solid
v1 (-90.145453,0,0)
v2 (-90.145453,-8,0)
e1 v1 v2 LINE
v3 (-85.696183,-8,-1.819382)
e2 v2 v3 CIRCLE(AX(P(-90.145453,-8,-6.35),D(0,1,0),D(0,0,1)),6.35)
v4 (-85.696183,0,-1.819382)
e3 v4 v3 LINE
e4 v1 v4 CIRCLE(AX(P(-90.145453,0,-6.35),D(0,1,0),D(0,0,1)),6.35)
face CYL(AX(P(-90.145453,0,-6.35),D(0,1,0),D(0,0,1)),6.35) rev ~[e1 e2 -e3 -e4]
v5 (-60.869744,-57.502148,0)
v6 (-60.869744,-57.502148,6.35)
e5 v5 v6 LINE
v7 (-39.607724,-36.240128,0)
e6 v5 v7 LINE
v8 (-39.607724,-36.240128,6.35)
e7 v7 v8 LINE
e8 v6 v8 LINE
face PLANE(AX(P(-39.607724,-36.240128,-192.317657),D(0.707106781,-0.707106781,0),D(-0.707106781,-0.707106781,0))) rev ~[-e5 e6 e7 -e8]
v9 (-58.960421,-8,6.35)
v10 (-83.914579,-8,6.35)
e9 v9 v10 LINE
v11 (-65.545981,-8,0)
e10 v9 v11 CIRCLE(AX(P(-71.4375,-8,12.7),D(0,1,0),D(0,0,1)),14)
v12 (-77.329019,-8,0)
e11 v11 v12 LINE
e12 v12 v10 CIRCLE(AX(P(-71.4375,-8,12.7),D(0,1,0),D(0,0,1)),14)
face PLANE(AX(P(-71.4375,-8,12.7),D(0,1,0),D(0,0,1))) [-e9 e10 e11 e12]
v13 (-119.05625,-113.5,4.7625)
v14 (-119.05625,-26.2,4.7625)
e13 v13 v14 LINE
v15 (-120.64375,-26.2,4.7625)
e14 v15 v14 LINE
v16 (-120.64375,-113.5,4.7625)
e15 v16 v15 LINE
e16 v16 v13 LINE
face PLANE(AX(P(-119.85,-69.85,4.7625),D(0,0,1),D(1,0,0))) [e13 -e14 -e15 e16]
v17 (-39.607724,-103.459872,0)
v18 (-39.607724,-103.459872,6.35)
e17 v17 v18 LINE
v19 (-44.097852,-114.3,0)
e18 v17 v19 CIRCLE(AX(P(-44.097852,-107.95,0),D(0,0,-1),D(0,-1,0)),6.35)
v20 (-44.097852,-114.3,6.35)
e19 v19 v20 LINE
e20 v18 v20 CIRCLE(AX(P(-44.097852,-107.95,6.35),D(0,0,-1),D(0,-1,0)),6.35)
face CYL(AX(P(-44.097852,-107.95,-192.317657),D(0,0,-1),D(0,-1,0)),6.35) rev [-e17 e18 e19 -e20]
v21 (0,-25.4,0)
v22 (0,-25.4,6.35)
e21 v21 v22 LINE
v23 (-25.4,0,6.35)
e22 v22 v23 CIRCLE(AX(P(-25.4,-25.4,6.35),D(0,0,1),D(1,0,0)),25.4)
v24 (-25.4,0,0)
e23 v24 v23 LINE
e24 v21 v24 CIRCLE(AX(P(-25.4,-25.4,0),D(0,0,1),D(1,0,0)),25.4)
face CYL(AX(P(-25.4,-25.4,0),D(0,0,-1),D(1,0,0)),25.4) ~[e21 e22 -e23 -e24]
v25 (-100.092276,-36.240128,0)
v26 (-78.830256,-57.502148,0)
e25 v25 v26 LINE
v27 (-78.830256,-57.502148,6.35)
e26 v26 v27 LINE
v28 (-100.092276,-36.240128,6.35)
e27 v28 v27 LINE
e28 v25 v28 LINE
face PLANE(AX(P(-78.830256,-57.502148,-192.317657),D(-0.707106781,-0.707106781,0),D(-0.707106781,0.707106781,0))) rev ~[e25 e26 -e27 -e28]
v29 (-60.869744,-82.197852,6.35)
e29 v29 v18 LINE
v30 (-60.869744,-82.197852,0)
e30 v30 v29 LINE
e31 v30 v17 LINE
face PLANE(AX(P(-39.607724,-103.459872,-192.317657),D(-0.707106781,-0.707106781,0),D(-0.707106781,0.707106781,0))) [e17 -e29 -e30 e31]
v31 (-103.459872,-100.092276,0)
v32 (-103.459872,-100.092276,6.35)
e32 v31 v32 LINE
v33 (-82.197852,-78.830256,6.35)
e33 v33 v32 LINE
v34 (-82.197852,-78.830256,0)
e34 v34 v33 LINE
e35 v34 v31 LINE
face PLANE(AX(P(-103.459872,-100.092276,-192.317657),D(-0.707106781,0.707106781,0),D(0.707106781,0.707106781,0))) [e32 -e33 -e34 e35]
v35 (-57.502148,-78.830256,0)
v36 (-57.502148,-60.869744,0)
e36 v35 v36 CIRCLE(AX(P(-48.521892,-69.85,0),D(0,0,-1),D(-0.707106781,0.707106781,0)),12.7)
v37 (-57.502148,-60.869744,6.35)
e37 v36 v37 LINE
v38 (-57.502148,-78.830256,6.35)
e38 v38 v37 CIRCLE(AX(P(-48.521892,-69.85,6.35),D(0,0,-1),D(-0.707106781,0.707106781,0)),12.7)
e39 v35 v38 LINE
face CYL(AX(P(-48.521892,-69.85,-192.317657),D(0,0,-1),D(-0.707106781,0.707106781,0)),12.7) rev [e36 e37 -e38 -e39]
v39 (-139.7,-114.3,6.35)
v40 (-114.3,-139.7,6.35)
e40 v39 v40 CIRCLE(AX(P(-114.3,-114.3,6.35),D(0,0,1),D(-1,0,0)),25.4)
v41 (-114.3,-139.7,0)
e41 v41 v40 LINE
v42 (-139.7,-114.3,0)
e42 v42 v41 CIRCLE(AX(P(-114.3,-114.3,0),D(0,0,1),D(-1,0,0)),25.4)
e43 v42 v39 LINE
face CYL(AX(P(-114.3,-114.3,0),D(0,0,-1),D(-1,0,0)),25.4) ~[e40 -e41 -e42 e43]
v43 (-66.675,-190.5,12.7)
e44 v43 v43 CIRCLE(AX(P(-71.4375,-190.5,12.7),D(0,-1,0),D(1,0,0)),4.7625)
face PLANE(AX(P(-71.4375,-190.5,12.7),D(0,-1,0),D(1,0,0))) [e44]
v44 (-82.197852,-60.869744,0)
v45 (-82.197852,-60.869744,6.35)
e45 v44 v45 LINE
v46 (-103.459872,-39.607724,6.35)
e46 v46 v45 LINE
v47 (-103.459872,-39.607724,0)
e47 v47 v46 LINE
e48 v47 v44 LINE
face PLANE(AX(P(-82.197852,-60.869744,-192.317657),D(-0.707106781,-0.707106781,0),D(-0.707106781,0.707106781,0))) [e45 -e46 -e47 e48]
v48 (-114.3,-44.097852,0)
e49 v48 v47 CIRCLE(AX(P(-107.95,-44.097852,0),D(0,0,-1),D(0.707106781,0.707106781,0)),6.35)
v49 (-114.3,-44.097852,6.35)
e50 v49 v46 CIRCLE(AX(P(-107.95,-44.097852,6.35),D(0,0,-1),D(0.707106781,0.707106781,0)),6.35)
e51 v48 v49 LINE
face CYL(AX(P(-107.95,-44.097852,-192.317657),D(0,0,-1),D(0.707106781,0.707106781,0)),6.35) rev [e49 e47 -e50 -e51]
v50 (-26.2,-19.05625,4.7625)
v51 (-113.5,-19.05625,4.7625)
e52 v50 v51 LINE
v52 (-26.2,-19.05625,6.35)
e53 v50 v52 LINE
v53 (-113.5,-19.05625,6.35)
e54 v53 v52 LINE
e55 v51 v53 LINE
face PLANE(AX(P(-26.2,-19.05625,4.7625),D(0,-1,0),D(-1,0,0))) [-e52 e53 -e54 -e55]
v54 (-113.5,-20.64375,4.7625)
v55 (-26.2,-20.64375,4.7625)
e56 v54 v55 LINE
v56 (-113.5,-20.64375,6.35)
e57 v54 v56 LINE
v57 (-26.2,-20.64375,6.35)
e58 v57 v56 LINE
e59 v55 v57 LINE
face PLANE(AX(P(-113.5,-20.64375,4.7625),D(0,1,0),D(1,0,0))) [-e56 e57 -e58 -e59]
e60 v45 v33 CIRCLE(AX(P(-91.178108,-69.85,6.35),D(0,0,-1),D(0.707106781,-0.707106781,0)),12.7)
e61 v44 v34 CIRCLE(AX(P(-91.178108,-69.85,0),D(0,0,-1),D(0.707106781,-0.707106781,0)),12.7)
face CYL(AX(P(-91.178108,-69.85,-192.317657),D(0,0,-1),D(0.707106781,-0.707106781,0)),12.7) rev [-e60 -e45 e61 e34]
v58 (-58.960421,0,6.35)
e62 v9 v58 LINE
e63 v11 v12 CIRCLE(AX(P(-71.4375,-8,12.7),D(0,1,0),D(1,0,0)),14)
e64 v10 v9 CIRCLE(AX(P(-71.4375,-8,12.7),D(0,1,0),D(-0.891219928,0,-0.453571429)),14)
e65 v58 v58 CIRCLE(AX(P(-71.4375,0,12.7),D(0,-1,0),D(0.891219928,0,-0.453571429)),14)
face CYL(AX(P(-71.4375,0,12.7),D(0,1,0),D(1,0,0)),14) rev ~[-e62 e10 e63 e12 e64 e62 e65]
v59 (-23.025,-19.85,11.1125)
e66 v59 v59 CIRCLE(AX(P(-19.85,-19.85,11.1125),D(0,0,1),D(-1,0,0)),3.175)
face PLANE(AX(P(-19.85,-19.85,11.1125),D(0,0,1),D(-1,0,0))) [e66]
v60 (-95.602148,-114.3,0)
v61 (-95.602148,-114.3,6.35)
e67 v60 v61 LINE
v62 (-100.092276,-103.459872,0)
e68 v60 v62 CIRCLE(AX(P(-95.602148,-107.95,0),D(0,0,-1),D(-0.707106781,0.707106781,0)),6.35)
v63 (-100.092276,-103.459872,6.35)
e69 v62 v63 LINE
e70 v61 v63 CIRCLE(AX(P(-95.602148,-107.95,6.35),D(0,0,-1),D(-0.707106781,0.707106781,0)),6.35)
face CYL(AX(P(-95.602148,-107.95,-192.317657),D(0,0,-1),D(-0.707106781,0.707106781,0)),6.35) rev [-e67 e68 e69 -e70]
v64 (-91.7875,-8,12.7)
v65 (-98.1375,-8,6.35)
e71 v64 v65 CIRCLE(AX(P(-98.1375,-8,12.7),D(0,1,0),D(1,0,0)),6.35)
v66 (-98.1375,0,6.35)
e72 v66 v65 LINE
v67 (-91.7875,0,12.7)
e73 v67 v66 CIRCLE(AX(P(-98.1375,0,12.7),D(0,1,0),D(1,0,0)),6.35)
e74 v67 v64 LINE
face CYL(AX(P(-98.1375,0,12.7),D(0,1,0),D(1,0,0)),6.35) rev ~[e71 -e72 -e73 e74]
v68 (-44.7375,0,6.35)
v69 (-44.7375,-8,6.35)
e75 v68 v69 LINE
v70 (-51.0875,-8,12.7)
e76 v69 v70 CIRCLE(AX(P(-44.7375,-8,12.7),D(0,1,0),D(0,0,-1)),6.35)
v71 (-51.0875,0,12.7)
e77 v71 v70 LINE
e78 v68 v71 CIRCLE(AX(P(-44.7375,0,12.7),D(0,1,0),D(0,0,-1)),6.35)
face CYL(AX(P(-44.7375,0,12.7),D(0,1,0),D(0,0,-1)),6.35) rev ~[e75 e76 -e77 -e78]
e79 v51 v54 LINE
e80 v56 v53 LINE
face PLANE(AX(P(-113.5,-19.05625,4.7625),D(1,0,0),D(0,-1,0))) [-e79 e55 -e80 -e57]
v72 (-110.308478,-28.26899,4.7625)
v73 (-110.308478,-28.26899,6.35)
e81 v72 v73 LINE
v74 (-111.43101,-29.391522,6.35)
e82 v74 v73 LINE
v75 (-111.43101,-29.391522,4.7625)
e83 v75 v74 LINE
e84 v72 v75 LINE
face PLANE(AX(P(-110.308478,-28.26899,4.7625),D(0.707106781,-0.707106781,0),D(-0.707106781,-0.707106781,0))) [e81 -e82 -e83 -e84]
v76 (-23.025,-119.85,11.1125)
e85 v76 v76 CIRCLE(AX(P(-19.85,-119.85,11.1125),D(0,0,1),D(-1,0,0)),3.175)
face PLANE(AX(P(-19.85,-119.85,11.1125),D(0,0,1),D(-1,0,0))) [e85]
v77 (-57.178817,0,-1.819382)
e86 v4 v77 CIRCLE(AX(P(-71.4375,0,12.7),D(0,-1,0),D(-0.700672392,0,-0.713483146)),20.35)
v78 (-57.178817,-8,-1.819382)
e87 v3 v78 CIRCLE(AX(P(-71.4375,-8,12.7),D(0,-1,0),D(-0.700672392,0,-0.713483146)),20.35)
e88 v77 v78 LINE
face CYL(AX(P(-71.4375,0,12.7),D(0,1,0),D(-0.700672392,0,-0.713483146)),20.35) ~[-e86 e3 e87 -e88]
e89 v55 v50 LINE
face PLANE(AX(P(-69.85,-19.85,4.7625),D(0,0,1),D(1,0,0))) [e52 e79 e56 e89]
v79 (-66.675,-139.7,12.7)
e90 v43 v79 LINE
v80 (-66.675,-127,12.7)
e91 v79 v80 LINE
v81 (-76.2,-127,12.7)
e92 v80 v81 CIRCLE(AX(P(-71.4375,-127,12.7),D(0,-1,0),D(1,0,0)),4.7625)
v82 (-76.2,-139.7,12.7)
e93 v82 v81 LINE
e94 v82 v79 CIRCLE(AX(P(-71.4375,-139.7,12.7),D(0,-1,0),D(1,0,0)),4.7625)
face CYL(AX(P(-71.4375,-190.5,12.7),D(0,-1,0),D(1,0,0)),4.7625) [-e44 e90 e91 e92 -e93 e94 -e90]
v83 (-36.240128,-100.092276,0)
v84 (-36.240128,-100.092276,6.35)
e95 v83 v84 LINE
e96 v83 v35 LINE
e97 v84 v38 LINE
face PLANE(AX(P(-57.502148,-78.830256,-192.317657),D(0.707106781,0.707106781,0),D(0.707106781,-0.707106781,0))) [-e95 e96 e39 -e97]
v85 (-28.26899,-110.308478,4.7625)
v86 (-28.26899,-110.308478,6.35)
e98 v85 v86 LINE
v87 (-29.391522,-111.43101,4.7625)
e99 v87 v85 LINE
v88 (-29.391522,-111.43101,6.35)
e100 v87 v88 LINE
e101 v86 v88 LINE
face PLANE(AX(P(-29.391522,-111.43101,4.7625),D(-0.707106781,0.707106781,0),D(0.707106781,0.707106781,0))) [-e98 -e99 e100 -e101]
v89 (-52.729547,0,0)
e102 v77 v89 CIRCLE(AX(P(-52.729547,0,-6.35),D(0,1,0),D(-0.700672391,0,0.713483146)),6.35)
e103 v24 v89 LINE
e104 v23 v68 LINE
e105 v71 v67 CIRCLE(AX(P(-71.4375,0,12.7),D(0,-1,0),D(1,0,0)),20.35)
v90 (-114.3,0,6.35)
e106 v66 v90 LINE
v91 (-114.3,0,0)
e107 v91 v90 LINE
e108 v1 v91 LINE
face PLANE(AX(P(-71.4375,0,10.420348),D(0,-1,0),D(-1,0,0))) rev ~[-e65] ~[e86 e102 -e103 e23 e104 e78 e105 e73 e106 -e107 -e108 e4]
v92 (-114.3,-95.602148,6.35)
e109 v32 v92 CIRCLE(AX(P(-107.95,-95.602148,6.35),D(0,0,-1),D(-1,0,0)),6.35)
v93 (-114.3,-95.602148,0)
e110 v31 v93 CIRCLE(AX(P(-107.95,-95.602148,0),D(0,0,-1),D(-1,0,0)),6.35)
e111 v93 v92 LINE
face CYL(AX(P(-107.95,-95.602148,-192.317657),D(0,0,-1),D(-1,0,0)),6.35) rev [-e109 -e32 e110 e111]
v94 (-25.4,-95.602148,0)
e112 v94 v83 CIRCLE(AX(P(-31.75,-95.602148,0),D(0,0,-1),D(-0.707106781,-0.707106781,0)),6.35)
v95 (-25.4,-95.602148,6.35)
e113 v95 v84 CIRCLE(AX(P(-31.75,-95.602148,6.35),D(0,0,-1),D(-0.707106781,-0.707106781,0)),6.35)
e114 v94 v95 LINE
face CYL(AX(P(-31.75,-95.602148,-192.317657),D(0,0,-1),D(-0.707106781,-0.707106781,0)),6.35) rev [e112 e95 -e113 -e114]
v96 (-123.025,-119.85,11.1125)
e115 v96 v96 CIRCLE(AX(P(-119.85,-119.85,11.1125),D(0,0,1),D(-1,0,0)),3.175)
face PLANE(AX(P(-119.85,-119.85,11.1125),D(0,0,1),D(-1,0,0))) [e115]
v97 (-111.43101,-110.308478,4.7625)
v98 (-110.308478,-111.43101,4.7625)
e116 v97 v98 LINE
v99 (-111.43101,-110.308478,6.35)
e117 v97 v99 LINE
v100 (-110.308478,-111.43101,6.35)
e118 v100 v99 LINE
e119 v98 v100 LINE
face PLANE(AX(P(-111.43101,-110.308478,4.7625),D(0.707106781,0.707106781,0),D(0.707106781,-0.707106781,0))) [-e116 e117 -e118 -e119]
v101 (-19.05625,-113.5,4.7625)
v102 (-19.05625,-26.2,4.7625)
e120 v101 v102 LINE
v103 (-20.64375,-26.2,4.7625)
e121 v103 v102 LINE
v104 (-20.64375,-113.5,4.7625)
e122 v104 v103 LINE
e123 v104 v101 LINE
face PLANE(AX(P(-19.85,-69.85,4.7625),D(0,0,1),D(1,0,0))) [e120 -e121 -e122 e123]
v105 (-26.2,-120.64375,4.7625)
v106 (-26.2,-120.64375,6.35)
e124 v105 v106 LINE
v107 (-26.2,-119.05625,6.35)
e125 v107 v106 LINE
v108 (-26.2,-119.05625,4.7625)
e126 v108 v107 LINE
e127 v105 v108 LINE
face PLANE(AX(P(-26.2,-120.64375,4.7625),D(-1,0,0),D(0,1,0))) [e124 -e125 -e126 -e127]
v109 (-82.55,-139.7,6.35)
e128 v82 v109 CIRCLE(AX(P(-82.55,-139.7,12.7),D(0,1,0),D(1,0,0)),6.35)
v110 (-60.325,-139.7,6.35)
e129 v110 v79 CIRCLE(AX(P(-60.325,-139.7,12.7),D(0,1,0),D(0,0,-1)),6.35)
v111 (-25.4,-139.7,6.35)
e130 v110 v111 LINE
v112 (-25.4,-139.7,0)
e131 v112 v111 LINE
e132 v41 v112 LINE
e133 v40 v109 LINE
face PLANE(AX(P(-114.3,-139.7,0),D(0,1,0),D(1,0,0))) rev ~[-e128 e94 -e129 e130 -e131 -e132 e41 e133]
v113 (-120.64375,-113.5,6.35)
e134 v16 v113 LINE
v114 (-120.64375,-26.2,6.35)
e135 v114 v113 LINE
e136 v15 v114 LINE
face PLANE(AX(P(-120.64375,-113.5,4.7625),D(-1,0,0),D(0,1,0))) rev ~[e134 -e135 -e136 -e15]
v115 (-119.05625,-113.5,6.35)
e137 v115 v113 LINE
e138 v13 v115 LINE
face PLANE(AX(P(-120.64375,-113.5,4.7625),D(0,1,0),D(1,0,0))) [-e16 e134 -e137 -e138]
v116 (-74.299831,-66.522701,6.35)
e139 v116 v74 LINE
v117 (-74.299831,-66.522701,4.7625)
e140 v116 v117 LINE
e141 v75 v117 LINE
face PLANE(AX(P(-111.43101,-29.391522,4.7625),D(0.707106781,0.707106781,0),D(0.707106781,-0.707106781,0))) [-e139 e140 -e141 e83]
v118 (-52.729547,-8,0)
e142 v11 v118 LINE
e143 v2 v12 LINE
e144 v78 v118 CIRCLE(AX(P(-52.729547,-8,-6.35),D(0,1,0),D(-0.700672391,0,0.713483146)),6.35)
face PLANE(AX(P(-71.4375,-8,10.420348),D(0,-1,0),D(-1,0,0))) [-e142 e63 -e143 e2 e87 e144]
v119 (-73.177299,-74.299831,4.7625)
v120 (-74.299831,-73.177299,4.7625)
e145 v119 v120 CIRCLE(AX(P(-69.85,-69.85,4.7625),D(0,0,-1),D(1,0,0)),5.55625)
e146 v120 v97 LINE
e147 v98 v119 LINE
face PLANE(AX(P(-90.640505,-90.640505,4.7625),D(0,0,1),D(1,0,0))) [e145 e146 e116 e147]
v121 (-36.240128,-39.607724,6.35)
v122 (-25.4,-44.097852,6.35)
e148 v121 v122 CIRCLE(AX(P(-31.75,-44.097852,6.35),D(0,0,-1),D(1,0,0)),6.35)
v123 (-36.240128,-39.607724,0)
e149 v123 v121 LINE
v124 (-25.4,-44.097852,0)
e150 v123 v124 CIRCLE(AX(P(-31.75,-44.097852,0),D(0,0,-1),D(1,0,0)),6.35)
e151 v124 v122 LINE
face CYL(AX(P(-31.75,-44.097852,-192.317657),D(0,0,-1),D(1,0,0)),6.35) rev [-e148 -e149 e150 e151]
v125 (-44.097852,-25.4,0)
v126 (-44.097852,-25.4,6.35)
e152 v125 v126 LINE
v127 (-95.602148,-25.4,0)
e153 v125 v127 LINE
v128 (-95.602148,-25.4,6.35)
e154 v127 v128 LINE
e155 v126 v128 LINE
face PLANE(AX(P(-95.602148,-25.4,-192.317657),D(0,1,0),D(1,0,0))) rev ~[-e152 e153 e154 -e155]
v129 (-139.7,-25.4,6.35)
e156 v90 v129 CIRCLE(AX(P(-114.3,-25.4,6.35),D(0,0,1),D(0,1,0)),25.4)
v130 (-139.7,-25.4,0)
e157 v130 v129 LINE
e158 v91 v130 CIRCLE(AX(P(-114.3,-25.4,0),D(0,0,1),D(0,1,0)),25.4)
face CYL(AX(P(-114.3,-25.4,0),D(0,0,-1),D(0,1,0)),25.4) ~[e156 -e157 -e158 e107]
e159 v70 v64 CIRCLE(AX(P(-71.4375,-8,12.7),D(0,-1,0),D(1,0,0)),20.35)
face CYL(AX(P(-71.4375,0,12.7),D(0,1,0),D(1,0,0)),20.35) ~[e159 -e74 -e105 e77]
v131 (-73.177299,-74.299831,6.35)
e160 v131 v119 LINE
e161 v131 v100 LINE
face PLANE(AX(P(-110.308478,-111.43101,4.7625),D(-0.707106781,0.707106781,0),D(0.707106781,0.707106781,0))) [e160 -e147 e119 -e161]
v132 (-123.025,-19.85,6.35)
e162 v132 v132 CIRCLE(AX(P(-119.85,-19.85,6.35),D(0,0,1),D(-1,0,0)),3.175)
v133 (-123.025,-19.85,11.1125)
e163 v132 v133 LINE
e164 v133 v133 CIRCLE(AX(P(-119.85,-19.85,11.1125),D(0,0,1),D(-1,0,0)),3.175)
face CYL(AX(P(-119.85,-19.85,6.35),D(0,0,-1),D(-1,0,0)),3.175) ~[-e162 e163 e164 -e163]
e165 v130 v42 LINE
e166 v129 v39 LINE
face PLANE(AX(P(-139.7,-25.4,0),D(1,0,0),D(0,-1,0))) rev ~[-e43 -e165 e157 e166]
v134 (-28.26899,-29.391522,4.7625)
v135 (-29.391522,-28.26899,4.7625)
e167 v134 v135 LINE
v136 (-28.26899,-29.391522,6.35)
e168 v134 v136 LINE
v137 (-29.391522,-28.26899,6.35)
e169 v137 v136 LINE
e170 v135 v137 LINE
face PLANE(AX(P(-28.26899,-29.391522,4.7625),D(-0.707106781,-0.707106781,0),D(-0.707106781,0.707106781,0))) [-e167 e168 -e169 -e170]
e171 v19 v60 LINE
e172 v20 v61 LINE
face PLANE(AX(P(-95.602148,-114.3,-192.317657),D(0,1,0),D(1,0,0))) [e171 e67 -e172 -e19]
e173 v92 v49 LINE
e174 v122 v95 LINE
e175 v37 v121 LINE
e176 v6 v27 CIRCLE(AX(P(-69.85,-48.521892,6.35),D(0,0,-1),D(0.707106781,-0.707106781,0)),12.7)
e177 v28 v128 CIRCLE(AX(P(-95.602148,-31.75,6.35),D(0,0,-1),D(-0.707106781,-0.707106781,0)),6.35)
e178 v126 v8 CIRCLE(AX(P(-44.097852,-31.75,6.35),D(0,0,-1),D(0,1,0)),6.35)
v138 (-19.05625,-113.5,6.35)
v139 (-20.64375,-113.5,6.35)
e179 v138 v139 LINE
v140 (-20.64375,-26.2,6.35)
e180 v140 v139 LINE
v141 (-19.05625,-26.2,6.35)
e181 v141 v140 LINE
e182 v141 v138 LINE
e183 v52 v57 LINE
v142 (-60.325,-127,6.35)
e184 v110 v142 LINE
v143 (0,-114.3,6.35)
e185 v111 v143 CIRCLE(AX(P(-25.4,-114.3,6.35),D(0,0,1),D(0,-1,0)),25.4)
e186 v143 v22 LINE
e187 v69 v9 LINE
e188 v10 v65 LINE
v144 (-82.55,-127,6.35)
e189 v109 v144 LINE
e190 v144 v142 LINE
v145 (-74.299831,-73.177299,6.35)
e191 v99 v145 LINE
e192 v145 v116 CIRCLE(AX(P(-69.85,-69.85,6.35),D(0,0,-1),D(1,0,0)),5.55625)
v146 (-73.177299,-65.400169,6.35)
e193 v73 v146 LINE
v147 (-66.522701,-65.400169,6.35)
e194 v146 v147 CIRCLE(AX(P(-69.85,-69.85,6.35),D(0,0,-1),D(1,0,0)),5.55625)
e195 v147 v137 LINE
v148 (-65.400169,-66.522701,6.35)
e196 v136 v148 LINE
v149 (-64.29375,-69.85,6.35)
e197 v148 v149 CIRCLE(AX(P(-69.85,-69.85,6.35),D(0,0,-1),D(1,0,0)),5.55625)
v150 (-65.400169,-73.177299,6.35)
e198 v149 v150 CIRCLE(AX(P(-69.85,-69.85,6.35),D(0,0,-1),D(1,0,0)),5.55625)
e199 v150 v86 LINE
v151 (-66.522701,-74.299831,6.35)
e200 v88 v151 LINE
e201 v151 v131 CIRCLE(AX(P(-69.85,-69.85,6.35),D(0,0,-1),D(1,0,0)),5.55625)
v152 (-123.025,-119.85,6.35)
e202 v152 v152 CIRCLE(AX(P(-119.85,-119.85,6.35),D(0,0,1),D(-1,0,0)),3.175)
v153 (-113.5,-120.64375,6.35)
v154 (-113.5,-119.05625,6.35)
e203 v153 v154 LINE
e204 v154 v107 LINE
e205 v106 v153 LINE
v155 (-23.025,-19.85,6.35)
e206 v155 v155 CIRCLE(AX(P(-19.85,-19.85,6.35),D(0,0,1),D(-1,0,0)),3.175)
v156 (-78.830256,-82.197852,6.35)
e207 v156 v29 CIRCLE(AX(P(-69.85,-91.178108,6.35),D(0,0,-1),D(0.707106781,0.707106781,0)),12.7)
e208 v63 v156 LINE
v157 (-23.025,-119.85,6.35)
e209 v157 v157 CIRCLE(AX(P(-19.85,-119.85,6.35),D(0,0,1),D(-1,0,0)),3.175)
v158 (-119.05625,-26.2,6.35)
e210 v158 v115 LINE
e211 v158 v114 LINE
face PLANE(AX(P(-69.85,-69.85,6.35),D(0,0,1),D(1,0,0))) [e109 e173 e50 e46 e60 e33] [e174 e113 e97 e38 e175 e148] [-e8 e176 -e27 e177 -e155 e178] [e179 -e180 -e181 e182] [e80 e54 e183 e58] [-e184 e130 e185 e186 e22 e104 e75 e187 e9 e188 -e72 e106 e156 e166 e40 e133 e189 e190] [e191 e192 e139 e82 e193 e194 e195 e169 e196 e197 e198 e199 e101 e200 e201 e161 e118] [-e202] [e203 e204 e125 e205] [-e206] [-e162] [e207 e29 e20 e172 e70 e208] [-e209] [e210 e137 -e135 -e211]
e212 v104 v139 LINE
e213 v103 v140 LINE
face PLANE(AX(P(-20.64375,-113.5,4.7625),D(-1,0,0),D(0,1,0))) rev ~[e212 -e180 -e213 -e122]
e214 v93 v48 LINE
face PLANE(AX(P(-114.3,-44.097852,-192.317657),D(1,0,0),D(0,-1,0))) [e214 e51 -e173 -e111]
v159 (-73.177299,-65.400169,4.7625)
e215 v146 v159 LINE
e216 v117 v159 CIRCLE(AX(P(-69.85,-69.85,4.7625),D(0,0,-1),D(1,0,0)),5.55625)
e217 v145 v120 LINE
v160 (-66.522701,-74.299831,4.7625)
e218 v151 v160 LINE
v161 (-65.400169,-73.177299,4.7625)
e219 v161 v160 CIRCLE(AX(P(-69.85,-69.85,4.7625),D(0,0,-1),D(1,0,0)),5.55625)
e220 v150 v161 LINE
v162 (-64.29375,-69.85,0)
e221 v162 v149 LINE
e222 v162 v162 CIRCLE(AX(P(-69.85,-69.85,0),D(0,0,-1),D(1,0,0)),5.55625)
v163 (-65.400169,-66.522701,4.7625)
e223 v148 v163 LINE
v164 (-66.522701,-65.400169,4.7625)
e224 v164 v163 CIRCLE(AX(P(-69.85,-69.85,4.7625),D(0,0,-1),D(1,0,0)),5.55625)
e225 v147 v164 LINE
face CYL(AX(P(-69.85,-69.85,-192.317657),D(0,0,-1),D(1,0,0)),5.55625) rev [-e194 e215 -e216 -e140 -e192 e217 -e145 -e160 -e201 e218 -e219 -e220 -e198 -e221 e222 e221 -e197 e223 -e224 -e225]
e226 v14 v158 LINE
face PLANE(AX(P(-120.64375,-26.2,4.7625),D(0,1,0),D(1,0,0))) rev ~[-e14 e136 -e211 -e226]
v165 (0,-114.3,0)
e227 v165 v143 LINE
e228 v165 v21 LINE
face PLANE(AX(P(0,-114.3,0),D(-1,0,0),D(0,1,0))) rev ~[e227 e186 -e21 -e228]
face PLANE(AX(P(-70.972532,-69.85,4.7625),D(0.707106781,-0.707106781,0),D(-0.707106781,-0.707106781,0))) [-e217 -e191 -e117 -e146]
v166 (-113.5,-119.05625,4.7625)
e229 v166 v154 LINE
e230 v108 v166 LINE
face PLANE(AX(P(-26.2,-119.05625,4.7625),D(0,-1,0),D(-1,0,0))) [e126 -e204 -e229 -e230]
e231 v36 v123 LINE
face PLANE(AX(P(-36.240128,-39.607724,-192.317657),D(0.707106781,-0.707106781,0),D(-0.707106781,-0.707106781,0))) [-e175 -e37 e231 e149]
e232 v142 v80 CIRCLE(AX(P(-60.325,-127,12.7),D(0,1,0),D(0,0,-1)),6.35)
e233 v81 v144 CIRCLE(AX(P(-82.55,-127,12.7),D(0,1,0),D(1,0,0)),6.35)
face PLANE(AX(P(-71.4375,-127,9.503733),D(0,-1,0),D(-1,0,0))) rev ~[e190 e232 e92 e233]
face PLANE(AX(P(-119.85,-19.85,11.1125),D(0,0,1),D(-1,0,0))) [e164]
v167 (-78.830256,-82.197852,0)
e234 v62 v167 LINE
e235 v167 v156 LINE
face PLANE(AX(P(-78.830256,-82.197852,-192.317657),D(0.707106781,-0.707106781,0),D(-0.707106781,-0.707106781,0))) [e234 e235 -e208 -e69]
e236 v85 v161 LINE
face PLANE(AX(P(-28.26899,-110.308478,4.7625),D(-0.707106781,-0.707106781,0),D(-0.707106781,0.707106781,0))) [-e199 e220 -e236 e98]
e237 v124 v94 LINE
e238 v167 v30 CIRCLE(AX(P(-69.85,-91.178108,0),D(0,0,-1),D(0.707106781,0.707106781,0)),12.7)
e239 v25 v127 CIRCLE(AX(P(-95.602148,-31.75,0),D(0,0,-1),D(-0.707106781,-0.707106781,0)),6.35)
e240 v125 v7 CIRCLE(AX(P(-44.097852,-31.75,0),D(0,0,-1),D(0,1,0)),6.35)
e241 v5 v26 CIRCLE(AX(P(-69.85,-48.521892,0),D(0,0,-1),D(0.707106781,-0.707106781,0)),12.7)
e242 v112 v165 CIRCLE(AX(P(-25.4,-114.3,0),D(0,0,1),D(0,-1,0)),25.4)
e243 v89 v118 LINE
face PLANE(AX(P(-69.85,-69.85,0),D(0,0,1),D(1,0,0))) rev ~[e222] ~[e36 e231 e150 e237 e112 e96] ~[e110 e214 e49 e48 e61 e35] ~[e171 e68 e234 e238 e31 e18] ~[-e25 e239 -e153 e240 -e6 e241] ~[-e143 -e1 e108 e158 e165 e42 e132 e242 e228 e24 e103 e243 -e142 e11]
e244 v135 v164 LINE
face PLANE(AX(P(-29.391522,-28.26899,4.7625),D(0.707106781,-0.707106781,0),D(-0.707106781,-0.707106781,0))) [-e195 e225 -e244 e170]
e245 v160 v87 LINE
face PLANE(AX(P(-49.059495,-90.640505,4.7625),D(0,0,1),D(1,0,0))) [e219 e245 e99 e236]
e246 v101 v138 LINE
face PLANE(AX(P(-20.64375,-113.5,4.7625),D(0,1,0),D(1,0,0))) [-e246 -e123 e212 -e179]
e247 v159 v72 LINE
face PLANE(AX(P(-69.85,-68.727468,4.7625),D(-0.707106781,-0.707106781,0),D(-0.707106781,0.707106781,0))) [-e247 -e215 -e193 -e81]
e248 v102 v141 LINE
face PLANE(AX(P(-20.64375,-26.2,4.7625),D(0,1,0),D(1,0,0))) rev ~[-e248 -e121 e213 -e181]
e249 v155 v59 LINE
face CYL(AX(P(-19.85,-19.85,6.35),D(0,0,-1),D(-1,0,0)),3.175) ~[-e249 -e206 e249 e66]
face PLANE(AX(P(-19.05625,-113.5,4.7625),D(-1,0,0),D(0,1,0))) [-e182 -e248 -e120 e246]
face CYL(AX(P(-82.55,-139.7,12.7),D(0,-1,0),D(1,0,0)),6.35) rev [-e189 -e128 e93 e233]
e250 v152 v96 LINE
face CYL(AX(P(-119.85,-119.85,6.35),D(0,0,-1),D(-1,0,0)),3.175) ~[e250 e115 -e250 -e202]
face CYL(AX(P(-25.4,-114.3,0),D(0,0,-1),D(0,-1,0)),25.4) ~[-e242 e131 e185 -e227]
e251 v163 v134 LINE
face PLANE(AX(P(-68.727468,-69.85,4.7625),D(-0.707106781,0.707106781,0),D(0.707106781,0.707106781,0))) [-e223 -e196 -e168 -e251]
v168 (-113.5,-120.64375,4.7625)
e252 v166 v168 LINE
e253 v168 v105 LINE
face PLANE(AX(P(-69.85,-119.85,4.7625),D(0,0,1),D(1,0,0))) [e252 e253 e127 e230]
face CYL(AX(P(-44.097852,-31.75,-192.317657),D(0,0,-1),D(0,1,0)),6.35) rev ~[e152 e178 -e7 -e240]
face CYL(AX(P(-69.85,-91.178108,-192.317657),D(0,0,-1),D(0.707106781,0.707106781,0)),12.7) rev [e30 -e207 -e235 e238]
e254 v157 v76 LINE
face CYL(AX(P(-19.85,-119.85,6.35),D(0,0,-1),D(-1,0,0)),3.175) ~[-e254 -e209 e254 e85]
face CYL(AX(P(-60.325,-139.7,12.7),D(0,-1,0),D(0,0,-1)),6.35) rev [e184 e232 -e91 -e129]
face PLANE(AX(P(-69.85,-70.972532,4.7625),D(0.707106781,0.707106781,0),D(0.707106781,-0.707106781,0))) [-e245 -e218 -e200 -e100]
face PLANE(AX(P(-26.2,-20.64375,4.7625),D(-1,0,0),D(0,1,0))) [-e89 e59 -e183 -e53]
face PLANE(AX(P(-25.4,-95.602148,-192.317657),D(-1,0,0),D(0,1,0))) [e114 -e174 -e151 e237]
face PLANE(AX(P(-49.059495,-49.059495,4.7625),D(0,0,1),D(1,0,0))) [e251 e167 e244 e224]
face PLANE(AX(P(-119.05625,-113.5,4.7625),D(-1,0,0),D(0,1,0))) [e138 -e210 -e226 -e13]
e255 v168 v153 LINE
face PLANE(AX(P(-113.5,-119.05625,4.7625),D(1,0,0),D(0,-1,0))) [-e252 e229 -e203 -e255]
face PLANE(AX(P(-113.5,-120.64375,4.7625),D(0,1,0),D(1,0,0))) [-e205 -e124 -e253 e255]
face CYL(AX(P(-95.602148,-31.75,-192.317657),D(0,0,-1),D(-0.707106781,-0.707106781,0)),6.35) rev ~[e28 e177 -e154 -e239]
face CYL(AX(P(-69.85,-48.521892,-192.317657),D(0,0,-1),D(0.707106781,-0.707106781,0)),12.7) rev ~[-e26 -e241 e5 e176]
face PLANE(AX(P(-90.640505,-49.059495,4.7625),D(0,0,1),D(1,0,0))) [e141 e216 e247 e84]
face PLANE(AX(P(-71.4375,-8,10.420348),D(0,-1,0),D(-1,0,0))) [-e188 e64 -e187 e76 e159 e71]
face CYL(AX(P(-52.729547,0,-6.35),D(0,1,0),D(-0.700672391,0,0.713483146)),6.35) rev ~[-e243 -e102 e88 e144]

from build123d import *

# Parameters (mm, degrees)
BOSS_EXTRUDE2_DEPTH     = 6.35
CUT_EXTRUDE1_DEPTH      = 198.667656687
CUT_EXTRUDE1_DEPTH_BACK = 198.667656687
SKETCH2_R               = 5.55625
CUT_EXTRUDE2_DEPTH      = 198.667656687
CUT_EXTRUDE2_DEPTH_BACK = 1.5875
SKETCH3_W               = 1.5875
SKETCH3_H               = 87.3
SKETCH3_3_R             = 3.175
BOSS_EXTRUDE3_DEPTH     = 4.7625
SKETCH6_R               = 14
BOSS_EXTRUDE7_DEPTH     = 8
BOSS_EXTRUDE8_START     = -139.7
BOSS_EXTRUDE8_DEPTH     = 12.7
BOSS_EXTRUDE9_START     = 50.8
SKETCH12_R              = 4.7625
BOSS_EXTRUDE9_DEPTH     = 50.8
SKETCH13_R              = 14
CUT_EXTRUDE3_DEPTH      = 8


with BuildPart() as part:
    # Sketch1 → Boss-Extrude2 (new body)
    with BuildSketch(Plane.XY):
        with BuildLine():
            Line((-25.4, 0), (-114.3, 0))
            ThreePointArc((-114.3, 0), (-132.260512242, -7.439487758), (-139.7, -25.4))
            Line((-139.7, -25.4), (-139.7, -114.3))
            ThreePointArc((-139.7, -114.3), (-132.260512242, -132.260512242), (-114.3, -139.7))
            Line((-114.3, -139.7), (-25.4, -139.7))
            ThreePointArc((-25.4, -139.7), (-7.439487758, -132.260512242), (0, -114.3))
            Line((0, -114.3), (0, -25.4))
            ThreePointArc((0, -25.4), (-7.439487758, -7.439487758), (-25.4, 0))
        make_face()
    extrude(amount=BOSS_EXTRUDE2_DEPTH)

    # Sketch2 → Cut-Extrude1 (cut, two sides: drawn at the far end of the back side and taken through both)
    with BuildSketch(Plane.XY.offset(6.35).offset(-CUT_EXTRUDE1_DEPTH_BACK)):
        with Locations((-69.85, -69.85)):
            Circle(SKETCH2_R)
        with BuildLine():
            Line((-95.602147834, -25.4), (-44.097852166, -25.4))
            ThreePointArc((-44.097852166, -25.4), (-38.231217135, -29.319960204), (-39.607724106, -36.240128061))
            Line((-39.607724106, -36.240128061), (-60.869743879, -57.502147834))
            ThreePointArc((-60.869743879, -57.502147834), (-69.85, -61.221891712), (-78.830256121, -57.502147834))
            Line((-78.830256121, -57.502147834), (-100.092275894, -36.240128061))
            ThreePointArc((-100.092275894, -36.240128061), (-101.468782865, -29.319960204), (-95.602147834, -25.4))
        make_face()
        with BuildLine():
            Line((-57.502147834, -78.830256121), (-36.240128061, -100.092275894))
            ThreePointArc((-36.240128061, -100.092275894), (-29.319960204, -101.468782865), (-25.4, -95.602147834))
            Line((-25.4, -95.602147834), (-25.4, -44.097852166))
            ThreePointArc((-25.4, -44.097852166), (-29.319960204, -38.231217135), (-36.240128061, -39.607724106))
            Line((-36.240128061, -39.607724106), (-57.502147834, -60.869743879))
            ThreePointArc((-57.502147834, -60.869743879), (-61.221891712, -69.85), (-57.502147834, -78.830256121))
        make_face()
        with BuildLine():
            Line((-78.830256121, -82.197852166), (-100.092275894, -103.459871939))
            ThreePointArc((-100.092275894, -103.459871939), (-101.468782865, -110.380039796), (-95.602147834, -114.3))
            Line((-95.602147834, -114.3), (-44.097852166, -114.3))
            ThreePointArc((-44.097852166, -114.3), (-38.231217135, -110.380039796), (-39.607724106, -103.459871939))
            Line((-39.607724106, -103.459871939), (-60.869743879, -82.197852166))
            ThreePointArc((-60.869743879, -82.197852166), (-69.85, -78.478108288), (-78.830256121, -82.197852166))
        make_face()
        with BuildLine():
            Line((-82.197852166, -60.869743879), (-103.459871939, -39.607724106))
            ThreePointArc((-103.459871939, -39.607724106), (-110.380039796, -38.231217135), (-114.3, -44.097852166))
            Line((-114.3, -44.097852166), (-114.3, -95.602147834))
            ThreePointArc((-114.3, -95.602147834), (-110.380039796, -101.468782865), (-103.459871939, -100.092275894))
            Line((-103.459871939, -100.092275894), (-82.197852166, -78.830256121))
            ThreePointArc((-82.197852166, -78.830256121), (-78.478108288, -69.85), (-82.197852166, -60.869743879))
        make_face()
    extrude(amount=CUT_EXTRUDE1_DEPTH + CUT_EXTRUDE1_DEPTH_BACK, mode=Mode.SUBTRACT)

    # Sketch3 → Cut-Extrude2 (cut, two sides: drawn at the far end of the back side and taken through both)
    with BuildSketch(Plane.XY.offset(6.35).offset(-CUT_EXTRUDE2_DEPTH_BACK)):
        Polygon((-26.2, -119.05625), (-69.85, -119.05625), (-113.5, -119.05625), (-113.5, -120.64375), (-26.2, -120.64375), align=None)
        Polygon((-29.391522129, -28.268990114), (-69.85, -68.727467985), (-68.727467985, -69.85), (-28.268990114, -29.391522129), align=None)
        Polygon((-70.972532015, -69.85), (-69.85, -68.727467985), (-110.308477871, -28.268990114), (-111.431009886, -29.391522129), align=None)
        Polygon((-113.5, -20.64375), (-69.85, -20.64375), (-26.2, -20.64375), (-26.2, -19.05625), (-113.5, -19.05625), align=None)
        Polygon((-110.308477871, -111.431009886), (-69.85, -70.972532015), (-70.972532015, -69.85), (-111.431009886, -110.308477871), align=None)
        Polygon((-68.727467985, -69.85), (-69.85, -70.972532015), (-29.391522129, -111.431009886), (-28.268990114, -110.308477871), align=None)
        with Locations((-119.85, -69.85)):
            Rectangle(SKETCH3_W, SKETCH3_H)
        with Locations((-19.85, -69.85)):
            Rectangle(SKETCH3_W, SKETCH3_H)
    extrude(amount=CUT_EXTRUDE2_DEPTH + CUT_EXTRUDE2_DEPTH_BACK, mode=Mode.SUBTRACT)

    # Sketch3<3> → Boss-Extrude3 (add)
    with BuildSketch(Plane.XY.offset(6.35)):
        with Locations(Location((-119.85, -19.85, 0), (0, 0, 180))):
            Circle(SKETCH3_3_R)
        with Locations(Location((-19.85, -19.85, 0), (0, 0, 180))):
            Circle(SKETCH3_3_R)
        with Locations(Location((-19.85, -119.85, 0), (0, 0, 180))):
            Circle(SKETCH3_3_R)
        with Locations(Location((-119.85, -119.85, 0), (0, 0, 180))):
            Circle(SKETCH3_3_R)
    extrude(amount=BOSS_EXTRUDE3_DEPTH)

    # Sketch6 → Boss-Extrude7 (add)
    with BuildSketch(Plane(origin=(0, 0, 0), x_dir=(1, 0, 0), z_dir=(0, 1, 0))):
        with BuildLine():
            Line((-98.1375, -6.35), (-90.771408037, -6.35))
            ThreePointArc((-90.771408037, -6.35), (-89.338621713, -3.021552737), (-87.338207531, 0))
            Line((-87.338207531, 0), (-90.145452854, 0))
            ThreePointArc((-90.145452854, 0), (-87.742009924, 0.472418688), (-85.696183168, 1.819382022))
            ThreePointArc((-85.696183168, 1.819382022), (-71.4375, 7.65), (-57.178816832, 1.819382022))
            ThreePointArc((-57.178816832, 1.819382022), (-55.132990076, 0.472418688), (-52.729547146, 0))
            Line((-52.729547146, 0), (-55.536792469, 0))
            ThreePointArc((-55.536792469, 0), (-53.536378287, -3.021552737), (-52.103591963, -6.35))
            Line((-52.103591963, -6.35), (-44.7375, -6.35))
            ThreePointArc((-44.7375, -6.35), (-49.227628061, -8.209871939), (-51.0875, -12.7))
            ThreePointArc((-51.0875, -12.7), (-71.4375, -33.05), (-91.7875, -12.7))
            ThreePointArc((-91.7875, -12.7), (-93.647371939, -8.209871939), (-98.1375, -6.35))
        make_face()
        with Locations((-71.4375, -12.7)):
            Circle(SKETCH6_R, mode=Mode.SUBTRACT)
    extrude(amount=-BOSS_EXTRUDE7_DEPTH)

    # Sketch5 → Boss-Extrude8 (add)
    with BuildSketch(Plane(origin=(0, 0, 0), x_dir=(1, 0, 0), z_dir=(0, 1, 0)).offset(BOSS_EXTRUDE8_START)):
        with BuildLine():
            Line((-82.55, -6.35), (-60.325, -6.35))
            ThreePointArc((-60.325, -6.35), (-64.815128061, -8.209871939), (-66.675, -12.7))
            ThreePointArc((-66.675, -12.7), (-71.4375, -17.4625), (-76.2, -12.7))
            ThreePointArc((-76.2, -12.7), (-78.059871939, -8.209871939), (-82.55, -6.35))
        make_face()
    extrude(amount=BOSS_EXTRUDE8_DEPTH)

    # Sketch12 → Boss-Extrude9 (add)
    with BuildSketch(Plane.XZ.offset(139.7).offset(BOSS_EXTRUDE9_START)):
        with Locations((-71.4375, 12.7)):
            Circle(SKETCH12_R)
    extrude(amount=-BOSS_EXTRUDE9_DEPTH)

    # Sketch13 → Cut-Extrude3 (cut)
    with BuildSketch(Plane(origin=(0, 0, 0), x_dir=(1, 0, 0), z_dir=(0, 1, 0))):
        with Locations(Location((-71.4375, -12.7, 0), (0, 0, 270))):
            Circle(SKETCH13_R)
    extrude(amount=-CUT_EXTRUDE3_DEPTH, mode=Mode.SUBTRACT)


solid = part.part
